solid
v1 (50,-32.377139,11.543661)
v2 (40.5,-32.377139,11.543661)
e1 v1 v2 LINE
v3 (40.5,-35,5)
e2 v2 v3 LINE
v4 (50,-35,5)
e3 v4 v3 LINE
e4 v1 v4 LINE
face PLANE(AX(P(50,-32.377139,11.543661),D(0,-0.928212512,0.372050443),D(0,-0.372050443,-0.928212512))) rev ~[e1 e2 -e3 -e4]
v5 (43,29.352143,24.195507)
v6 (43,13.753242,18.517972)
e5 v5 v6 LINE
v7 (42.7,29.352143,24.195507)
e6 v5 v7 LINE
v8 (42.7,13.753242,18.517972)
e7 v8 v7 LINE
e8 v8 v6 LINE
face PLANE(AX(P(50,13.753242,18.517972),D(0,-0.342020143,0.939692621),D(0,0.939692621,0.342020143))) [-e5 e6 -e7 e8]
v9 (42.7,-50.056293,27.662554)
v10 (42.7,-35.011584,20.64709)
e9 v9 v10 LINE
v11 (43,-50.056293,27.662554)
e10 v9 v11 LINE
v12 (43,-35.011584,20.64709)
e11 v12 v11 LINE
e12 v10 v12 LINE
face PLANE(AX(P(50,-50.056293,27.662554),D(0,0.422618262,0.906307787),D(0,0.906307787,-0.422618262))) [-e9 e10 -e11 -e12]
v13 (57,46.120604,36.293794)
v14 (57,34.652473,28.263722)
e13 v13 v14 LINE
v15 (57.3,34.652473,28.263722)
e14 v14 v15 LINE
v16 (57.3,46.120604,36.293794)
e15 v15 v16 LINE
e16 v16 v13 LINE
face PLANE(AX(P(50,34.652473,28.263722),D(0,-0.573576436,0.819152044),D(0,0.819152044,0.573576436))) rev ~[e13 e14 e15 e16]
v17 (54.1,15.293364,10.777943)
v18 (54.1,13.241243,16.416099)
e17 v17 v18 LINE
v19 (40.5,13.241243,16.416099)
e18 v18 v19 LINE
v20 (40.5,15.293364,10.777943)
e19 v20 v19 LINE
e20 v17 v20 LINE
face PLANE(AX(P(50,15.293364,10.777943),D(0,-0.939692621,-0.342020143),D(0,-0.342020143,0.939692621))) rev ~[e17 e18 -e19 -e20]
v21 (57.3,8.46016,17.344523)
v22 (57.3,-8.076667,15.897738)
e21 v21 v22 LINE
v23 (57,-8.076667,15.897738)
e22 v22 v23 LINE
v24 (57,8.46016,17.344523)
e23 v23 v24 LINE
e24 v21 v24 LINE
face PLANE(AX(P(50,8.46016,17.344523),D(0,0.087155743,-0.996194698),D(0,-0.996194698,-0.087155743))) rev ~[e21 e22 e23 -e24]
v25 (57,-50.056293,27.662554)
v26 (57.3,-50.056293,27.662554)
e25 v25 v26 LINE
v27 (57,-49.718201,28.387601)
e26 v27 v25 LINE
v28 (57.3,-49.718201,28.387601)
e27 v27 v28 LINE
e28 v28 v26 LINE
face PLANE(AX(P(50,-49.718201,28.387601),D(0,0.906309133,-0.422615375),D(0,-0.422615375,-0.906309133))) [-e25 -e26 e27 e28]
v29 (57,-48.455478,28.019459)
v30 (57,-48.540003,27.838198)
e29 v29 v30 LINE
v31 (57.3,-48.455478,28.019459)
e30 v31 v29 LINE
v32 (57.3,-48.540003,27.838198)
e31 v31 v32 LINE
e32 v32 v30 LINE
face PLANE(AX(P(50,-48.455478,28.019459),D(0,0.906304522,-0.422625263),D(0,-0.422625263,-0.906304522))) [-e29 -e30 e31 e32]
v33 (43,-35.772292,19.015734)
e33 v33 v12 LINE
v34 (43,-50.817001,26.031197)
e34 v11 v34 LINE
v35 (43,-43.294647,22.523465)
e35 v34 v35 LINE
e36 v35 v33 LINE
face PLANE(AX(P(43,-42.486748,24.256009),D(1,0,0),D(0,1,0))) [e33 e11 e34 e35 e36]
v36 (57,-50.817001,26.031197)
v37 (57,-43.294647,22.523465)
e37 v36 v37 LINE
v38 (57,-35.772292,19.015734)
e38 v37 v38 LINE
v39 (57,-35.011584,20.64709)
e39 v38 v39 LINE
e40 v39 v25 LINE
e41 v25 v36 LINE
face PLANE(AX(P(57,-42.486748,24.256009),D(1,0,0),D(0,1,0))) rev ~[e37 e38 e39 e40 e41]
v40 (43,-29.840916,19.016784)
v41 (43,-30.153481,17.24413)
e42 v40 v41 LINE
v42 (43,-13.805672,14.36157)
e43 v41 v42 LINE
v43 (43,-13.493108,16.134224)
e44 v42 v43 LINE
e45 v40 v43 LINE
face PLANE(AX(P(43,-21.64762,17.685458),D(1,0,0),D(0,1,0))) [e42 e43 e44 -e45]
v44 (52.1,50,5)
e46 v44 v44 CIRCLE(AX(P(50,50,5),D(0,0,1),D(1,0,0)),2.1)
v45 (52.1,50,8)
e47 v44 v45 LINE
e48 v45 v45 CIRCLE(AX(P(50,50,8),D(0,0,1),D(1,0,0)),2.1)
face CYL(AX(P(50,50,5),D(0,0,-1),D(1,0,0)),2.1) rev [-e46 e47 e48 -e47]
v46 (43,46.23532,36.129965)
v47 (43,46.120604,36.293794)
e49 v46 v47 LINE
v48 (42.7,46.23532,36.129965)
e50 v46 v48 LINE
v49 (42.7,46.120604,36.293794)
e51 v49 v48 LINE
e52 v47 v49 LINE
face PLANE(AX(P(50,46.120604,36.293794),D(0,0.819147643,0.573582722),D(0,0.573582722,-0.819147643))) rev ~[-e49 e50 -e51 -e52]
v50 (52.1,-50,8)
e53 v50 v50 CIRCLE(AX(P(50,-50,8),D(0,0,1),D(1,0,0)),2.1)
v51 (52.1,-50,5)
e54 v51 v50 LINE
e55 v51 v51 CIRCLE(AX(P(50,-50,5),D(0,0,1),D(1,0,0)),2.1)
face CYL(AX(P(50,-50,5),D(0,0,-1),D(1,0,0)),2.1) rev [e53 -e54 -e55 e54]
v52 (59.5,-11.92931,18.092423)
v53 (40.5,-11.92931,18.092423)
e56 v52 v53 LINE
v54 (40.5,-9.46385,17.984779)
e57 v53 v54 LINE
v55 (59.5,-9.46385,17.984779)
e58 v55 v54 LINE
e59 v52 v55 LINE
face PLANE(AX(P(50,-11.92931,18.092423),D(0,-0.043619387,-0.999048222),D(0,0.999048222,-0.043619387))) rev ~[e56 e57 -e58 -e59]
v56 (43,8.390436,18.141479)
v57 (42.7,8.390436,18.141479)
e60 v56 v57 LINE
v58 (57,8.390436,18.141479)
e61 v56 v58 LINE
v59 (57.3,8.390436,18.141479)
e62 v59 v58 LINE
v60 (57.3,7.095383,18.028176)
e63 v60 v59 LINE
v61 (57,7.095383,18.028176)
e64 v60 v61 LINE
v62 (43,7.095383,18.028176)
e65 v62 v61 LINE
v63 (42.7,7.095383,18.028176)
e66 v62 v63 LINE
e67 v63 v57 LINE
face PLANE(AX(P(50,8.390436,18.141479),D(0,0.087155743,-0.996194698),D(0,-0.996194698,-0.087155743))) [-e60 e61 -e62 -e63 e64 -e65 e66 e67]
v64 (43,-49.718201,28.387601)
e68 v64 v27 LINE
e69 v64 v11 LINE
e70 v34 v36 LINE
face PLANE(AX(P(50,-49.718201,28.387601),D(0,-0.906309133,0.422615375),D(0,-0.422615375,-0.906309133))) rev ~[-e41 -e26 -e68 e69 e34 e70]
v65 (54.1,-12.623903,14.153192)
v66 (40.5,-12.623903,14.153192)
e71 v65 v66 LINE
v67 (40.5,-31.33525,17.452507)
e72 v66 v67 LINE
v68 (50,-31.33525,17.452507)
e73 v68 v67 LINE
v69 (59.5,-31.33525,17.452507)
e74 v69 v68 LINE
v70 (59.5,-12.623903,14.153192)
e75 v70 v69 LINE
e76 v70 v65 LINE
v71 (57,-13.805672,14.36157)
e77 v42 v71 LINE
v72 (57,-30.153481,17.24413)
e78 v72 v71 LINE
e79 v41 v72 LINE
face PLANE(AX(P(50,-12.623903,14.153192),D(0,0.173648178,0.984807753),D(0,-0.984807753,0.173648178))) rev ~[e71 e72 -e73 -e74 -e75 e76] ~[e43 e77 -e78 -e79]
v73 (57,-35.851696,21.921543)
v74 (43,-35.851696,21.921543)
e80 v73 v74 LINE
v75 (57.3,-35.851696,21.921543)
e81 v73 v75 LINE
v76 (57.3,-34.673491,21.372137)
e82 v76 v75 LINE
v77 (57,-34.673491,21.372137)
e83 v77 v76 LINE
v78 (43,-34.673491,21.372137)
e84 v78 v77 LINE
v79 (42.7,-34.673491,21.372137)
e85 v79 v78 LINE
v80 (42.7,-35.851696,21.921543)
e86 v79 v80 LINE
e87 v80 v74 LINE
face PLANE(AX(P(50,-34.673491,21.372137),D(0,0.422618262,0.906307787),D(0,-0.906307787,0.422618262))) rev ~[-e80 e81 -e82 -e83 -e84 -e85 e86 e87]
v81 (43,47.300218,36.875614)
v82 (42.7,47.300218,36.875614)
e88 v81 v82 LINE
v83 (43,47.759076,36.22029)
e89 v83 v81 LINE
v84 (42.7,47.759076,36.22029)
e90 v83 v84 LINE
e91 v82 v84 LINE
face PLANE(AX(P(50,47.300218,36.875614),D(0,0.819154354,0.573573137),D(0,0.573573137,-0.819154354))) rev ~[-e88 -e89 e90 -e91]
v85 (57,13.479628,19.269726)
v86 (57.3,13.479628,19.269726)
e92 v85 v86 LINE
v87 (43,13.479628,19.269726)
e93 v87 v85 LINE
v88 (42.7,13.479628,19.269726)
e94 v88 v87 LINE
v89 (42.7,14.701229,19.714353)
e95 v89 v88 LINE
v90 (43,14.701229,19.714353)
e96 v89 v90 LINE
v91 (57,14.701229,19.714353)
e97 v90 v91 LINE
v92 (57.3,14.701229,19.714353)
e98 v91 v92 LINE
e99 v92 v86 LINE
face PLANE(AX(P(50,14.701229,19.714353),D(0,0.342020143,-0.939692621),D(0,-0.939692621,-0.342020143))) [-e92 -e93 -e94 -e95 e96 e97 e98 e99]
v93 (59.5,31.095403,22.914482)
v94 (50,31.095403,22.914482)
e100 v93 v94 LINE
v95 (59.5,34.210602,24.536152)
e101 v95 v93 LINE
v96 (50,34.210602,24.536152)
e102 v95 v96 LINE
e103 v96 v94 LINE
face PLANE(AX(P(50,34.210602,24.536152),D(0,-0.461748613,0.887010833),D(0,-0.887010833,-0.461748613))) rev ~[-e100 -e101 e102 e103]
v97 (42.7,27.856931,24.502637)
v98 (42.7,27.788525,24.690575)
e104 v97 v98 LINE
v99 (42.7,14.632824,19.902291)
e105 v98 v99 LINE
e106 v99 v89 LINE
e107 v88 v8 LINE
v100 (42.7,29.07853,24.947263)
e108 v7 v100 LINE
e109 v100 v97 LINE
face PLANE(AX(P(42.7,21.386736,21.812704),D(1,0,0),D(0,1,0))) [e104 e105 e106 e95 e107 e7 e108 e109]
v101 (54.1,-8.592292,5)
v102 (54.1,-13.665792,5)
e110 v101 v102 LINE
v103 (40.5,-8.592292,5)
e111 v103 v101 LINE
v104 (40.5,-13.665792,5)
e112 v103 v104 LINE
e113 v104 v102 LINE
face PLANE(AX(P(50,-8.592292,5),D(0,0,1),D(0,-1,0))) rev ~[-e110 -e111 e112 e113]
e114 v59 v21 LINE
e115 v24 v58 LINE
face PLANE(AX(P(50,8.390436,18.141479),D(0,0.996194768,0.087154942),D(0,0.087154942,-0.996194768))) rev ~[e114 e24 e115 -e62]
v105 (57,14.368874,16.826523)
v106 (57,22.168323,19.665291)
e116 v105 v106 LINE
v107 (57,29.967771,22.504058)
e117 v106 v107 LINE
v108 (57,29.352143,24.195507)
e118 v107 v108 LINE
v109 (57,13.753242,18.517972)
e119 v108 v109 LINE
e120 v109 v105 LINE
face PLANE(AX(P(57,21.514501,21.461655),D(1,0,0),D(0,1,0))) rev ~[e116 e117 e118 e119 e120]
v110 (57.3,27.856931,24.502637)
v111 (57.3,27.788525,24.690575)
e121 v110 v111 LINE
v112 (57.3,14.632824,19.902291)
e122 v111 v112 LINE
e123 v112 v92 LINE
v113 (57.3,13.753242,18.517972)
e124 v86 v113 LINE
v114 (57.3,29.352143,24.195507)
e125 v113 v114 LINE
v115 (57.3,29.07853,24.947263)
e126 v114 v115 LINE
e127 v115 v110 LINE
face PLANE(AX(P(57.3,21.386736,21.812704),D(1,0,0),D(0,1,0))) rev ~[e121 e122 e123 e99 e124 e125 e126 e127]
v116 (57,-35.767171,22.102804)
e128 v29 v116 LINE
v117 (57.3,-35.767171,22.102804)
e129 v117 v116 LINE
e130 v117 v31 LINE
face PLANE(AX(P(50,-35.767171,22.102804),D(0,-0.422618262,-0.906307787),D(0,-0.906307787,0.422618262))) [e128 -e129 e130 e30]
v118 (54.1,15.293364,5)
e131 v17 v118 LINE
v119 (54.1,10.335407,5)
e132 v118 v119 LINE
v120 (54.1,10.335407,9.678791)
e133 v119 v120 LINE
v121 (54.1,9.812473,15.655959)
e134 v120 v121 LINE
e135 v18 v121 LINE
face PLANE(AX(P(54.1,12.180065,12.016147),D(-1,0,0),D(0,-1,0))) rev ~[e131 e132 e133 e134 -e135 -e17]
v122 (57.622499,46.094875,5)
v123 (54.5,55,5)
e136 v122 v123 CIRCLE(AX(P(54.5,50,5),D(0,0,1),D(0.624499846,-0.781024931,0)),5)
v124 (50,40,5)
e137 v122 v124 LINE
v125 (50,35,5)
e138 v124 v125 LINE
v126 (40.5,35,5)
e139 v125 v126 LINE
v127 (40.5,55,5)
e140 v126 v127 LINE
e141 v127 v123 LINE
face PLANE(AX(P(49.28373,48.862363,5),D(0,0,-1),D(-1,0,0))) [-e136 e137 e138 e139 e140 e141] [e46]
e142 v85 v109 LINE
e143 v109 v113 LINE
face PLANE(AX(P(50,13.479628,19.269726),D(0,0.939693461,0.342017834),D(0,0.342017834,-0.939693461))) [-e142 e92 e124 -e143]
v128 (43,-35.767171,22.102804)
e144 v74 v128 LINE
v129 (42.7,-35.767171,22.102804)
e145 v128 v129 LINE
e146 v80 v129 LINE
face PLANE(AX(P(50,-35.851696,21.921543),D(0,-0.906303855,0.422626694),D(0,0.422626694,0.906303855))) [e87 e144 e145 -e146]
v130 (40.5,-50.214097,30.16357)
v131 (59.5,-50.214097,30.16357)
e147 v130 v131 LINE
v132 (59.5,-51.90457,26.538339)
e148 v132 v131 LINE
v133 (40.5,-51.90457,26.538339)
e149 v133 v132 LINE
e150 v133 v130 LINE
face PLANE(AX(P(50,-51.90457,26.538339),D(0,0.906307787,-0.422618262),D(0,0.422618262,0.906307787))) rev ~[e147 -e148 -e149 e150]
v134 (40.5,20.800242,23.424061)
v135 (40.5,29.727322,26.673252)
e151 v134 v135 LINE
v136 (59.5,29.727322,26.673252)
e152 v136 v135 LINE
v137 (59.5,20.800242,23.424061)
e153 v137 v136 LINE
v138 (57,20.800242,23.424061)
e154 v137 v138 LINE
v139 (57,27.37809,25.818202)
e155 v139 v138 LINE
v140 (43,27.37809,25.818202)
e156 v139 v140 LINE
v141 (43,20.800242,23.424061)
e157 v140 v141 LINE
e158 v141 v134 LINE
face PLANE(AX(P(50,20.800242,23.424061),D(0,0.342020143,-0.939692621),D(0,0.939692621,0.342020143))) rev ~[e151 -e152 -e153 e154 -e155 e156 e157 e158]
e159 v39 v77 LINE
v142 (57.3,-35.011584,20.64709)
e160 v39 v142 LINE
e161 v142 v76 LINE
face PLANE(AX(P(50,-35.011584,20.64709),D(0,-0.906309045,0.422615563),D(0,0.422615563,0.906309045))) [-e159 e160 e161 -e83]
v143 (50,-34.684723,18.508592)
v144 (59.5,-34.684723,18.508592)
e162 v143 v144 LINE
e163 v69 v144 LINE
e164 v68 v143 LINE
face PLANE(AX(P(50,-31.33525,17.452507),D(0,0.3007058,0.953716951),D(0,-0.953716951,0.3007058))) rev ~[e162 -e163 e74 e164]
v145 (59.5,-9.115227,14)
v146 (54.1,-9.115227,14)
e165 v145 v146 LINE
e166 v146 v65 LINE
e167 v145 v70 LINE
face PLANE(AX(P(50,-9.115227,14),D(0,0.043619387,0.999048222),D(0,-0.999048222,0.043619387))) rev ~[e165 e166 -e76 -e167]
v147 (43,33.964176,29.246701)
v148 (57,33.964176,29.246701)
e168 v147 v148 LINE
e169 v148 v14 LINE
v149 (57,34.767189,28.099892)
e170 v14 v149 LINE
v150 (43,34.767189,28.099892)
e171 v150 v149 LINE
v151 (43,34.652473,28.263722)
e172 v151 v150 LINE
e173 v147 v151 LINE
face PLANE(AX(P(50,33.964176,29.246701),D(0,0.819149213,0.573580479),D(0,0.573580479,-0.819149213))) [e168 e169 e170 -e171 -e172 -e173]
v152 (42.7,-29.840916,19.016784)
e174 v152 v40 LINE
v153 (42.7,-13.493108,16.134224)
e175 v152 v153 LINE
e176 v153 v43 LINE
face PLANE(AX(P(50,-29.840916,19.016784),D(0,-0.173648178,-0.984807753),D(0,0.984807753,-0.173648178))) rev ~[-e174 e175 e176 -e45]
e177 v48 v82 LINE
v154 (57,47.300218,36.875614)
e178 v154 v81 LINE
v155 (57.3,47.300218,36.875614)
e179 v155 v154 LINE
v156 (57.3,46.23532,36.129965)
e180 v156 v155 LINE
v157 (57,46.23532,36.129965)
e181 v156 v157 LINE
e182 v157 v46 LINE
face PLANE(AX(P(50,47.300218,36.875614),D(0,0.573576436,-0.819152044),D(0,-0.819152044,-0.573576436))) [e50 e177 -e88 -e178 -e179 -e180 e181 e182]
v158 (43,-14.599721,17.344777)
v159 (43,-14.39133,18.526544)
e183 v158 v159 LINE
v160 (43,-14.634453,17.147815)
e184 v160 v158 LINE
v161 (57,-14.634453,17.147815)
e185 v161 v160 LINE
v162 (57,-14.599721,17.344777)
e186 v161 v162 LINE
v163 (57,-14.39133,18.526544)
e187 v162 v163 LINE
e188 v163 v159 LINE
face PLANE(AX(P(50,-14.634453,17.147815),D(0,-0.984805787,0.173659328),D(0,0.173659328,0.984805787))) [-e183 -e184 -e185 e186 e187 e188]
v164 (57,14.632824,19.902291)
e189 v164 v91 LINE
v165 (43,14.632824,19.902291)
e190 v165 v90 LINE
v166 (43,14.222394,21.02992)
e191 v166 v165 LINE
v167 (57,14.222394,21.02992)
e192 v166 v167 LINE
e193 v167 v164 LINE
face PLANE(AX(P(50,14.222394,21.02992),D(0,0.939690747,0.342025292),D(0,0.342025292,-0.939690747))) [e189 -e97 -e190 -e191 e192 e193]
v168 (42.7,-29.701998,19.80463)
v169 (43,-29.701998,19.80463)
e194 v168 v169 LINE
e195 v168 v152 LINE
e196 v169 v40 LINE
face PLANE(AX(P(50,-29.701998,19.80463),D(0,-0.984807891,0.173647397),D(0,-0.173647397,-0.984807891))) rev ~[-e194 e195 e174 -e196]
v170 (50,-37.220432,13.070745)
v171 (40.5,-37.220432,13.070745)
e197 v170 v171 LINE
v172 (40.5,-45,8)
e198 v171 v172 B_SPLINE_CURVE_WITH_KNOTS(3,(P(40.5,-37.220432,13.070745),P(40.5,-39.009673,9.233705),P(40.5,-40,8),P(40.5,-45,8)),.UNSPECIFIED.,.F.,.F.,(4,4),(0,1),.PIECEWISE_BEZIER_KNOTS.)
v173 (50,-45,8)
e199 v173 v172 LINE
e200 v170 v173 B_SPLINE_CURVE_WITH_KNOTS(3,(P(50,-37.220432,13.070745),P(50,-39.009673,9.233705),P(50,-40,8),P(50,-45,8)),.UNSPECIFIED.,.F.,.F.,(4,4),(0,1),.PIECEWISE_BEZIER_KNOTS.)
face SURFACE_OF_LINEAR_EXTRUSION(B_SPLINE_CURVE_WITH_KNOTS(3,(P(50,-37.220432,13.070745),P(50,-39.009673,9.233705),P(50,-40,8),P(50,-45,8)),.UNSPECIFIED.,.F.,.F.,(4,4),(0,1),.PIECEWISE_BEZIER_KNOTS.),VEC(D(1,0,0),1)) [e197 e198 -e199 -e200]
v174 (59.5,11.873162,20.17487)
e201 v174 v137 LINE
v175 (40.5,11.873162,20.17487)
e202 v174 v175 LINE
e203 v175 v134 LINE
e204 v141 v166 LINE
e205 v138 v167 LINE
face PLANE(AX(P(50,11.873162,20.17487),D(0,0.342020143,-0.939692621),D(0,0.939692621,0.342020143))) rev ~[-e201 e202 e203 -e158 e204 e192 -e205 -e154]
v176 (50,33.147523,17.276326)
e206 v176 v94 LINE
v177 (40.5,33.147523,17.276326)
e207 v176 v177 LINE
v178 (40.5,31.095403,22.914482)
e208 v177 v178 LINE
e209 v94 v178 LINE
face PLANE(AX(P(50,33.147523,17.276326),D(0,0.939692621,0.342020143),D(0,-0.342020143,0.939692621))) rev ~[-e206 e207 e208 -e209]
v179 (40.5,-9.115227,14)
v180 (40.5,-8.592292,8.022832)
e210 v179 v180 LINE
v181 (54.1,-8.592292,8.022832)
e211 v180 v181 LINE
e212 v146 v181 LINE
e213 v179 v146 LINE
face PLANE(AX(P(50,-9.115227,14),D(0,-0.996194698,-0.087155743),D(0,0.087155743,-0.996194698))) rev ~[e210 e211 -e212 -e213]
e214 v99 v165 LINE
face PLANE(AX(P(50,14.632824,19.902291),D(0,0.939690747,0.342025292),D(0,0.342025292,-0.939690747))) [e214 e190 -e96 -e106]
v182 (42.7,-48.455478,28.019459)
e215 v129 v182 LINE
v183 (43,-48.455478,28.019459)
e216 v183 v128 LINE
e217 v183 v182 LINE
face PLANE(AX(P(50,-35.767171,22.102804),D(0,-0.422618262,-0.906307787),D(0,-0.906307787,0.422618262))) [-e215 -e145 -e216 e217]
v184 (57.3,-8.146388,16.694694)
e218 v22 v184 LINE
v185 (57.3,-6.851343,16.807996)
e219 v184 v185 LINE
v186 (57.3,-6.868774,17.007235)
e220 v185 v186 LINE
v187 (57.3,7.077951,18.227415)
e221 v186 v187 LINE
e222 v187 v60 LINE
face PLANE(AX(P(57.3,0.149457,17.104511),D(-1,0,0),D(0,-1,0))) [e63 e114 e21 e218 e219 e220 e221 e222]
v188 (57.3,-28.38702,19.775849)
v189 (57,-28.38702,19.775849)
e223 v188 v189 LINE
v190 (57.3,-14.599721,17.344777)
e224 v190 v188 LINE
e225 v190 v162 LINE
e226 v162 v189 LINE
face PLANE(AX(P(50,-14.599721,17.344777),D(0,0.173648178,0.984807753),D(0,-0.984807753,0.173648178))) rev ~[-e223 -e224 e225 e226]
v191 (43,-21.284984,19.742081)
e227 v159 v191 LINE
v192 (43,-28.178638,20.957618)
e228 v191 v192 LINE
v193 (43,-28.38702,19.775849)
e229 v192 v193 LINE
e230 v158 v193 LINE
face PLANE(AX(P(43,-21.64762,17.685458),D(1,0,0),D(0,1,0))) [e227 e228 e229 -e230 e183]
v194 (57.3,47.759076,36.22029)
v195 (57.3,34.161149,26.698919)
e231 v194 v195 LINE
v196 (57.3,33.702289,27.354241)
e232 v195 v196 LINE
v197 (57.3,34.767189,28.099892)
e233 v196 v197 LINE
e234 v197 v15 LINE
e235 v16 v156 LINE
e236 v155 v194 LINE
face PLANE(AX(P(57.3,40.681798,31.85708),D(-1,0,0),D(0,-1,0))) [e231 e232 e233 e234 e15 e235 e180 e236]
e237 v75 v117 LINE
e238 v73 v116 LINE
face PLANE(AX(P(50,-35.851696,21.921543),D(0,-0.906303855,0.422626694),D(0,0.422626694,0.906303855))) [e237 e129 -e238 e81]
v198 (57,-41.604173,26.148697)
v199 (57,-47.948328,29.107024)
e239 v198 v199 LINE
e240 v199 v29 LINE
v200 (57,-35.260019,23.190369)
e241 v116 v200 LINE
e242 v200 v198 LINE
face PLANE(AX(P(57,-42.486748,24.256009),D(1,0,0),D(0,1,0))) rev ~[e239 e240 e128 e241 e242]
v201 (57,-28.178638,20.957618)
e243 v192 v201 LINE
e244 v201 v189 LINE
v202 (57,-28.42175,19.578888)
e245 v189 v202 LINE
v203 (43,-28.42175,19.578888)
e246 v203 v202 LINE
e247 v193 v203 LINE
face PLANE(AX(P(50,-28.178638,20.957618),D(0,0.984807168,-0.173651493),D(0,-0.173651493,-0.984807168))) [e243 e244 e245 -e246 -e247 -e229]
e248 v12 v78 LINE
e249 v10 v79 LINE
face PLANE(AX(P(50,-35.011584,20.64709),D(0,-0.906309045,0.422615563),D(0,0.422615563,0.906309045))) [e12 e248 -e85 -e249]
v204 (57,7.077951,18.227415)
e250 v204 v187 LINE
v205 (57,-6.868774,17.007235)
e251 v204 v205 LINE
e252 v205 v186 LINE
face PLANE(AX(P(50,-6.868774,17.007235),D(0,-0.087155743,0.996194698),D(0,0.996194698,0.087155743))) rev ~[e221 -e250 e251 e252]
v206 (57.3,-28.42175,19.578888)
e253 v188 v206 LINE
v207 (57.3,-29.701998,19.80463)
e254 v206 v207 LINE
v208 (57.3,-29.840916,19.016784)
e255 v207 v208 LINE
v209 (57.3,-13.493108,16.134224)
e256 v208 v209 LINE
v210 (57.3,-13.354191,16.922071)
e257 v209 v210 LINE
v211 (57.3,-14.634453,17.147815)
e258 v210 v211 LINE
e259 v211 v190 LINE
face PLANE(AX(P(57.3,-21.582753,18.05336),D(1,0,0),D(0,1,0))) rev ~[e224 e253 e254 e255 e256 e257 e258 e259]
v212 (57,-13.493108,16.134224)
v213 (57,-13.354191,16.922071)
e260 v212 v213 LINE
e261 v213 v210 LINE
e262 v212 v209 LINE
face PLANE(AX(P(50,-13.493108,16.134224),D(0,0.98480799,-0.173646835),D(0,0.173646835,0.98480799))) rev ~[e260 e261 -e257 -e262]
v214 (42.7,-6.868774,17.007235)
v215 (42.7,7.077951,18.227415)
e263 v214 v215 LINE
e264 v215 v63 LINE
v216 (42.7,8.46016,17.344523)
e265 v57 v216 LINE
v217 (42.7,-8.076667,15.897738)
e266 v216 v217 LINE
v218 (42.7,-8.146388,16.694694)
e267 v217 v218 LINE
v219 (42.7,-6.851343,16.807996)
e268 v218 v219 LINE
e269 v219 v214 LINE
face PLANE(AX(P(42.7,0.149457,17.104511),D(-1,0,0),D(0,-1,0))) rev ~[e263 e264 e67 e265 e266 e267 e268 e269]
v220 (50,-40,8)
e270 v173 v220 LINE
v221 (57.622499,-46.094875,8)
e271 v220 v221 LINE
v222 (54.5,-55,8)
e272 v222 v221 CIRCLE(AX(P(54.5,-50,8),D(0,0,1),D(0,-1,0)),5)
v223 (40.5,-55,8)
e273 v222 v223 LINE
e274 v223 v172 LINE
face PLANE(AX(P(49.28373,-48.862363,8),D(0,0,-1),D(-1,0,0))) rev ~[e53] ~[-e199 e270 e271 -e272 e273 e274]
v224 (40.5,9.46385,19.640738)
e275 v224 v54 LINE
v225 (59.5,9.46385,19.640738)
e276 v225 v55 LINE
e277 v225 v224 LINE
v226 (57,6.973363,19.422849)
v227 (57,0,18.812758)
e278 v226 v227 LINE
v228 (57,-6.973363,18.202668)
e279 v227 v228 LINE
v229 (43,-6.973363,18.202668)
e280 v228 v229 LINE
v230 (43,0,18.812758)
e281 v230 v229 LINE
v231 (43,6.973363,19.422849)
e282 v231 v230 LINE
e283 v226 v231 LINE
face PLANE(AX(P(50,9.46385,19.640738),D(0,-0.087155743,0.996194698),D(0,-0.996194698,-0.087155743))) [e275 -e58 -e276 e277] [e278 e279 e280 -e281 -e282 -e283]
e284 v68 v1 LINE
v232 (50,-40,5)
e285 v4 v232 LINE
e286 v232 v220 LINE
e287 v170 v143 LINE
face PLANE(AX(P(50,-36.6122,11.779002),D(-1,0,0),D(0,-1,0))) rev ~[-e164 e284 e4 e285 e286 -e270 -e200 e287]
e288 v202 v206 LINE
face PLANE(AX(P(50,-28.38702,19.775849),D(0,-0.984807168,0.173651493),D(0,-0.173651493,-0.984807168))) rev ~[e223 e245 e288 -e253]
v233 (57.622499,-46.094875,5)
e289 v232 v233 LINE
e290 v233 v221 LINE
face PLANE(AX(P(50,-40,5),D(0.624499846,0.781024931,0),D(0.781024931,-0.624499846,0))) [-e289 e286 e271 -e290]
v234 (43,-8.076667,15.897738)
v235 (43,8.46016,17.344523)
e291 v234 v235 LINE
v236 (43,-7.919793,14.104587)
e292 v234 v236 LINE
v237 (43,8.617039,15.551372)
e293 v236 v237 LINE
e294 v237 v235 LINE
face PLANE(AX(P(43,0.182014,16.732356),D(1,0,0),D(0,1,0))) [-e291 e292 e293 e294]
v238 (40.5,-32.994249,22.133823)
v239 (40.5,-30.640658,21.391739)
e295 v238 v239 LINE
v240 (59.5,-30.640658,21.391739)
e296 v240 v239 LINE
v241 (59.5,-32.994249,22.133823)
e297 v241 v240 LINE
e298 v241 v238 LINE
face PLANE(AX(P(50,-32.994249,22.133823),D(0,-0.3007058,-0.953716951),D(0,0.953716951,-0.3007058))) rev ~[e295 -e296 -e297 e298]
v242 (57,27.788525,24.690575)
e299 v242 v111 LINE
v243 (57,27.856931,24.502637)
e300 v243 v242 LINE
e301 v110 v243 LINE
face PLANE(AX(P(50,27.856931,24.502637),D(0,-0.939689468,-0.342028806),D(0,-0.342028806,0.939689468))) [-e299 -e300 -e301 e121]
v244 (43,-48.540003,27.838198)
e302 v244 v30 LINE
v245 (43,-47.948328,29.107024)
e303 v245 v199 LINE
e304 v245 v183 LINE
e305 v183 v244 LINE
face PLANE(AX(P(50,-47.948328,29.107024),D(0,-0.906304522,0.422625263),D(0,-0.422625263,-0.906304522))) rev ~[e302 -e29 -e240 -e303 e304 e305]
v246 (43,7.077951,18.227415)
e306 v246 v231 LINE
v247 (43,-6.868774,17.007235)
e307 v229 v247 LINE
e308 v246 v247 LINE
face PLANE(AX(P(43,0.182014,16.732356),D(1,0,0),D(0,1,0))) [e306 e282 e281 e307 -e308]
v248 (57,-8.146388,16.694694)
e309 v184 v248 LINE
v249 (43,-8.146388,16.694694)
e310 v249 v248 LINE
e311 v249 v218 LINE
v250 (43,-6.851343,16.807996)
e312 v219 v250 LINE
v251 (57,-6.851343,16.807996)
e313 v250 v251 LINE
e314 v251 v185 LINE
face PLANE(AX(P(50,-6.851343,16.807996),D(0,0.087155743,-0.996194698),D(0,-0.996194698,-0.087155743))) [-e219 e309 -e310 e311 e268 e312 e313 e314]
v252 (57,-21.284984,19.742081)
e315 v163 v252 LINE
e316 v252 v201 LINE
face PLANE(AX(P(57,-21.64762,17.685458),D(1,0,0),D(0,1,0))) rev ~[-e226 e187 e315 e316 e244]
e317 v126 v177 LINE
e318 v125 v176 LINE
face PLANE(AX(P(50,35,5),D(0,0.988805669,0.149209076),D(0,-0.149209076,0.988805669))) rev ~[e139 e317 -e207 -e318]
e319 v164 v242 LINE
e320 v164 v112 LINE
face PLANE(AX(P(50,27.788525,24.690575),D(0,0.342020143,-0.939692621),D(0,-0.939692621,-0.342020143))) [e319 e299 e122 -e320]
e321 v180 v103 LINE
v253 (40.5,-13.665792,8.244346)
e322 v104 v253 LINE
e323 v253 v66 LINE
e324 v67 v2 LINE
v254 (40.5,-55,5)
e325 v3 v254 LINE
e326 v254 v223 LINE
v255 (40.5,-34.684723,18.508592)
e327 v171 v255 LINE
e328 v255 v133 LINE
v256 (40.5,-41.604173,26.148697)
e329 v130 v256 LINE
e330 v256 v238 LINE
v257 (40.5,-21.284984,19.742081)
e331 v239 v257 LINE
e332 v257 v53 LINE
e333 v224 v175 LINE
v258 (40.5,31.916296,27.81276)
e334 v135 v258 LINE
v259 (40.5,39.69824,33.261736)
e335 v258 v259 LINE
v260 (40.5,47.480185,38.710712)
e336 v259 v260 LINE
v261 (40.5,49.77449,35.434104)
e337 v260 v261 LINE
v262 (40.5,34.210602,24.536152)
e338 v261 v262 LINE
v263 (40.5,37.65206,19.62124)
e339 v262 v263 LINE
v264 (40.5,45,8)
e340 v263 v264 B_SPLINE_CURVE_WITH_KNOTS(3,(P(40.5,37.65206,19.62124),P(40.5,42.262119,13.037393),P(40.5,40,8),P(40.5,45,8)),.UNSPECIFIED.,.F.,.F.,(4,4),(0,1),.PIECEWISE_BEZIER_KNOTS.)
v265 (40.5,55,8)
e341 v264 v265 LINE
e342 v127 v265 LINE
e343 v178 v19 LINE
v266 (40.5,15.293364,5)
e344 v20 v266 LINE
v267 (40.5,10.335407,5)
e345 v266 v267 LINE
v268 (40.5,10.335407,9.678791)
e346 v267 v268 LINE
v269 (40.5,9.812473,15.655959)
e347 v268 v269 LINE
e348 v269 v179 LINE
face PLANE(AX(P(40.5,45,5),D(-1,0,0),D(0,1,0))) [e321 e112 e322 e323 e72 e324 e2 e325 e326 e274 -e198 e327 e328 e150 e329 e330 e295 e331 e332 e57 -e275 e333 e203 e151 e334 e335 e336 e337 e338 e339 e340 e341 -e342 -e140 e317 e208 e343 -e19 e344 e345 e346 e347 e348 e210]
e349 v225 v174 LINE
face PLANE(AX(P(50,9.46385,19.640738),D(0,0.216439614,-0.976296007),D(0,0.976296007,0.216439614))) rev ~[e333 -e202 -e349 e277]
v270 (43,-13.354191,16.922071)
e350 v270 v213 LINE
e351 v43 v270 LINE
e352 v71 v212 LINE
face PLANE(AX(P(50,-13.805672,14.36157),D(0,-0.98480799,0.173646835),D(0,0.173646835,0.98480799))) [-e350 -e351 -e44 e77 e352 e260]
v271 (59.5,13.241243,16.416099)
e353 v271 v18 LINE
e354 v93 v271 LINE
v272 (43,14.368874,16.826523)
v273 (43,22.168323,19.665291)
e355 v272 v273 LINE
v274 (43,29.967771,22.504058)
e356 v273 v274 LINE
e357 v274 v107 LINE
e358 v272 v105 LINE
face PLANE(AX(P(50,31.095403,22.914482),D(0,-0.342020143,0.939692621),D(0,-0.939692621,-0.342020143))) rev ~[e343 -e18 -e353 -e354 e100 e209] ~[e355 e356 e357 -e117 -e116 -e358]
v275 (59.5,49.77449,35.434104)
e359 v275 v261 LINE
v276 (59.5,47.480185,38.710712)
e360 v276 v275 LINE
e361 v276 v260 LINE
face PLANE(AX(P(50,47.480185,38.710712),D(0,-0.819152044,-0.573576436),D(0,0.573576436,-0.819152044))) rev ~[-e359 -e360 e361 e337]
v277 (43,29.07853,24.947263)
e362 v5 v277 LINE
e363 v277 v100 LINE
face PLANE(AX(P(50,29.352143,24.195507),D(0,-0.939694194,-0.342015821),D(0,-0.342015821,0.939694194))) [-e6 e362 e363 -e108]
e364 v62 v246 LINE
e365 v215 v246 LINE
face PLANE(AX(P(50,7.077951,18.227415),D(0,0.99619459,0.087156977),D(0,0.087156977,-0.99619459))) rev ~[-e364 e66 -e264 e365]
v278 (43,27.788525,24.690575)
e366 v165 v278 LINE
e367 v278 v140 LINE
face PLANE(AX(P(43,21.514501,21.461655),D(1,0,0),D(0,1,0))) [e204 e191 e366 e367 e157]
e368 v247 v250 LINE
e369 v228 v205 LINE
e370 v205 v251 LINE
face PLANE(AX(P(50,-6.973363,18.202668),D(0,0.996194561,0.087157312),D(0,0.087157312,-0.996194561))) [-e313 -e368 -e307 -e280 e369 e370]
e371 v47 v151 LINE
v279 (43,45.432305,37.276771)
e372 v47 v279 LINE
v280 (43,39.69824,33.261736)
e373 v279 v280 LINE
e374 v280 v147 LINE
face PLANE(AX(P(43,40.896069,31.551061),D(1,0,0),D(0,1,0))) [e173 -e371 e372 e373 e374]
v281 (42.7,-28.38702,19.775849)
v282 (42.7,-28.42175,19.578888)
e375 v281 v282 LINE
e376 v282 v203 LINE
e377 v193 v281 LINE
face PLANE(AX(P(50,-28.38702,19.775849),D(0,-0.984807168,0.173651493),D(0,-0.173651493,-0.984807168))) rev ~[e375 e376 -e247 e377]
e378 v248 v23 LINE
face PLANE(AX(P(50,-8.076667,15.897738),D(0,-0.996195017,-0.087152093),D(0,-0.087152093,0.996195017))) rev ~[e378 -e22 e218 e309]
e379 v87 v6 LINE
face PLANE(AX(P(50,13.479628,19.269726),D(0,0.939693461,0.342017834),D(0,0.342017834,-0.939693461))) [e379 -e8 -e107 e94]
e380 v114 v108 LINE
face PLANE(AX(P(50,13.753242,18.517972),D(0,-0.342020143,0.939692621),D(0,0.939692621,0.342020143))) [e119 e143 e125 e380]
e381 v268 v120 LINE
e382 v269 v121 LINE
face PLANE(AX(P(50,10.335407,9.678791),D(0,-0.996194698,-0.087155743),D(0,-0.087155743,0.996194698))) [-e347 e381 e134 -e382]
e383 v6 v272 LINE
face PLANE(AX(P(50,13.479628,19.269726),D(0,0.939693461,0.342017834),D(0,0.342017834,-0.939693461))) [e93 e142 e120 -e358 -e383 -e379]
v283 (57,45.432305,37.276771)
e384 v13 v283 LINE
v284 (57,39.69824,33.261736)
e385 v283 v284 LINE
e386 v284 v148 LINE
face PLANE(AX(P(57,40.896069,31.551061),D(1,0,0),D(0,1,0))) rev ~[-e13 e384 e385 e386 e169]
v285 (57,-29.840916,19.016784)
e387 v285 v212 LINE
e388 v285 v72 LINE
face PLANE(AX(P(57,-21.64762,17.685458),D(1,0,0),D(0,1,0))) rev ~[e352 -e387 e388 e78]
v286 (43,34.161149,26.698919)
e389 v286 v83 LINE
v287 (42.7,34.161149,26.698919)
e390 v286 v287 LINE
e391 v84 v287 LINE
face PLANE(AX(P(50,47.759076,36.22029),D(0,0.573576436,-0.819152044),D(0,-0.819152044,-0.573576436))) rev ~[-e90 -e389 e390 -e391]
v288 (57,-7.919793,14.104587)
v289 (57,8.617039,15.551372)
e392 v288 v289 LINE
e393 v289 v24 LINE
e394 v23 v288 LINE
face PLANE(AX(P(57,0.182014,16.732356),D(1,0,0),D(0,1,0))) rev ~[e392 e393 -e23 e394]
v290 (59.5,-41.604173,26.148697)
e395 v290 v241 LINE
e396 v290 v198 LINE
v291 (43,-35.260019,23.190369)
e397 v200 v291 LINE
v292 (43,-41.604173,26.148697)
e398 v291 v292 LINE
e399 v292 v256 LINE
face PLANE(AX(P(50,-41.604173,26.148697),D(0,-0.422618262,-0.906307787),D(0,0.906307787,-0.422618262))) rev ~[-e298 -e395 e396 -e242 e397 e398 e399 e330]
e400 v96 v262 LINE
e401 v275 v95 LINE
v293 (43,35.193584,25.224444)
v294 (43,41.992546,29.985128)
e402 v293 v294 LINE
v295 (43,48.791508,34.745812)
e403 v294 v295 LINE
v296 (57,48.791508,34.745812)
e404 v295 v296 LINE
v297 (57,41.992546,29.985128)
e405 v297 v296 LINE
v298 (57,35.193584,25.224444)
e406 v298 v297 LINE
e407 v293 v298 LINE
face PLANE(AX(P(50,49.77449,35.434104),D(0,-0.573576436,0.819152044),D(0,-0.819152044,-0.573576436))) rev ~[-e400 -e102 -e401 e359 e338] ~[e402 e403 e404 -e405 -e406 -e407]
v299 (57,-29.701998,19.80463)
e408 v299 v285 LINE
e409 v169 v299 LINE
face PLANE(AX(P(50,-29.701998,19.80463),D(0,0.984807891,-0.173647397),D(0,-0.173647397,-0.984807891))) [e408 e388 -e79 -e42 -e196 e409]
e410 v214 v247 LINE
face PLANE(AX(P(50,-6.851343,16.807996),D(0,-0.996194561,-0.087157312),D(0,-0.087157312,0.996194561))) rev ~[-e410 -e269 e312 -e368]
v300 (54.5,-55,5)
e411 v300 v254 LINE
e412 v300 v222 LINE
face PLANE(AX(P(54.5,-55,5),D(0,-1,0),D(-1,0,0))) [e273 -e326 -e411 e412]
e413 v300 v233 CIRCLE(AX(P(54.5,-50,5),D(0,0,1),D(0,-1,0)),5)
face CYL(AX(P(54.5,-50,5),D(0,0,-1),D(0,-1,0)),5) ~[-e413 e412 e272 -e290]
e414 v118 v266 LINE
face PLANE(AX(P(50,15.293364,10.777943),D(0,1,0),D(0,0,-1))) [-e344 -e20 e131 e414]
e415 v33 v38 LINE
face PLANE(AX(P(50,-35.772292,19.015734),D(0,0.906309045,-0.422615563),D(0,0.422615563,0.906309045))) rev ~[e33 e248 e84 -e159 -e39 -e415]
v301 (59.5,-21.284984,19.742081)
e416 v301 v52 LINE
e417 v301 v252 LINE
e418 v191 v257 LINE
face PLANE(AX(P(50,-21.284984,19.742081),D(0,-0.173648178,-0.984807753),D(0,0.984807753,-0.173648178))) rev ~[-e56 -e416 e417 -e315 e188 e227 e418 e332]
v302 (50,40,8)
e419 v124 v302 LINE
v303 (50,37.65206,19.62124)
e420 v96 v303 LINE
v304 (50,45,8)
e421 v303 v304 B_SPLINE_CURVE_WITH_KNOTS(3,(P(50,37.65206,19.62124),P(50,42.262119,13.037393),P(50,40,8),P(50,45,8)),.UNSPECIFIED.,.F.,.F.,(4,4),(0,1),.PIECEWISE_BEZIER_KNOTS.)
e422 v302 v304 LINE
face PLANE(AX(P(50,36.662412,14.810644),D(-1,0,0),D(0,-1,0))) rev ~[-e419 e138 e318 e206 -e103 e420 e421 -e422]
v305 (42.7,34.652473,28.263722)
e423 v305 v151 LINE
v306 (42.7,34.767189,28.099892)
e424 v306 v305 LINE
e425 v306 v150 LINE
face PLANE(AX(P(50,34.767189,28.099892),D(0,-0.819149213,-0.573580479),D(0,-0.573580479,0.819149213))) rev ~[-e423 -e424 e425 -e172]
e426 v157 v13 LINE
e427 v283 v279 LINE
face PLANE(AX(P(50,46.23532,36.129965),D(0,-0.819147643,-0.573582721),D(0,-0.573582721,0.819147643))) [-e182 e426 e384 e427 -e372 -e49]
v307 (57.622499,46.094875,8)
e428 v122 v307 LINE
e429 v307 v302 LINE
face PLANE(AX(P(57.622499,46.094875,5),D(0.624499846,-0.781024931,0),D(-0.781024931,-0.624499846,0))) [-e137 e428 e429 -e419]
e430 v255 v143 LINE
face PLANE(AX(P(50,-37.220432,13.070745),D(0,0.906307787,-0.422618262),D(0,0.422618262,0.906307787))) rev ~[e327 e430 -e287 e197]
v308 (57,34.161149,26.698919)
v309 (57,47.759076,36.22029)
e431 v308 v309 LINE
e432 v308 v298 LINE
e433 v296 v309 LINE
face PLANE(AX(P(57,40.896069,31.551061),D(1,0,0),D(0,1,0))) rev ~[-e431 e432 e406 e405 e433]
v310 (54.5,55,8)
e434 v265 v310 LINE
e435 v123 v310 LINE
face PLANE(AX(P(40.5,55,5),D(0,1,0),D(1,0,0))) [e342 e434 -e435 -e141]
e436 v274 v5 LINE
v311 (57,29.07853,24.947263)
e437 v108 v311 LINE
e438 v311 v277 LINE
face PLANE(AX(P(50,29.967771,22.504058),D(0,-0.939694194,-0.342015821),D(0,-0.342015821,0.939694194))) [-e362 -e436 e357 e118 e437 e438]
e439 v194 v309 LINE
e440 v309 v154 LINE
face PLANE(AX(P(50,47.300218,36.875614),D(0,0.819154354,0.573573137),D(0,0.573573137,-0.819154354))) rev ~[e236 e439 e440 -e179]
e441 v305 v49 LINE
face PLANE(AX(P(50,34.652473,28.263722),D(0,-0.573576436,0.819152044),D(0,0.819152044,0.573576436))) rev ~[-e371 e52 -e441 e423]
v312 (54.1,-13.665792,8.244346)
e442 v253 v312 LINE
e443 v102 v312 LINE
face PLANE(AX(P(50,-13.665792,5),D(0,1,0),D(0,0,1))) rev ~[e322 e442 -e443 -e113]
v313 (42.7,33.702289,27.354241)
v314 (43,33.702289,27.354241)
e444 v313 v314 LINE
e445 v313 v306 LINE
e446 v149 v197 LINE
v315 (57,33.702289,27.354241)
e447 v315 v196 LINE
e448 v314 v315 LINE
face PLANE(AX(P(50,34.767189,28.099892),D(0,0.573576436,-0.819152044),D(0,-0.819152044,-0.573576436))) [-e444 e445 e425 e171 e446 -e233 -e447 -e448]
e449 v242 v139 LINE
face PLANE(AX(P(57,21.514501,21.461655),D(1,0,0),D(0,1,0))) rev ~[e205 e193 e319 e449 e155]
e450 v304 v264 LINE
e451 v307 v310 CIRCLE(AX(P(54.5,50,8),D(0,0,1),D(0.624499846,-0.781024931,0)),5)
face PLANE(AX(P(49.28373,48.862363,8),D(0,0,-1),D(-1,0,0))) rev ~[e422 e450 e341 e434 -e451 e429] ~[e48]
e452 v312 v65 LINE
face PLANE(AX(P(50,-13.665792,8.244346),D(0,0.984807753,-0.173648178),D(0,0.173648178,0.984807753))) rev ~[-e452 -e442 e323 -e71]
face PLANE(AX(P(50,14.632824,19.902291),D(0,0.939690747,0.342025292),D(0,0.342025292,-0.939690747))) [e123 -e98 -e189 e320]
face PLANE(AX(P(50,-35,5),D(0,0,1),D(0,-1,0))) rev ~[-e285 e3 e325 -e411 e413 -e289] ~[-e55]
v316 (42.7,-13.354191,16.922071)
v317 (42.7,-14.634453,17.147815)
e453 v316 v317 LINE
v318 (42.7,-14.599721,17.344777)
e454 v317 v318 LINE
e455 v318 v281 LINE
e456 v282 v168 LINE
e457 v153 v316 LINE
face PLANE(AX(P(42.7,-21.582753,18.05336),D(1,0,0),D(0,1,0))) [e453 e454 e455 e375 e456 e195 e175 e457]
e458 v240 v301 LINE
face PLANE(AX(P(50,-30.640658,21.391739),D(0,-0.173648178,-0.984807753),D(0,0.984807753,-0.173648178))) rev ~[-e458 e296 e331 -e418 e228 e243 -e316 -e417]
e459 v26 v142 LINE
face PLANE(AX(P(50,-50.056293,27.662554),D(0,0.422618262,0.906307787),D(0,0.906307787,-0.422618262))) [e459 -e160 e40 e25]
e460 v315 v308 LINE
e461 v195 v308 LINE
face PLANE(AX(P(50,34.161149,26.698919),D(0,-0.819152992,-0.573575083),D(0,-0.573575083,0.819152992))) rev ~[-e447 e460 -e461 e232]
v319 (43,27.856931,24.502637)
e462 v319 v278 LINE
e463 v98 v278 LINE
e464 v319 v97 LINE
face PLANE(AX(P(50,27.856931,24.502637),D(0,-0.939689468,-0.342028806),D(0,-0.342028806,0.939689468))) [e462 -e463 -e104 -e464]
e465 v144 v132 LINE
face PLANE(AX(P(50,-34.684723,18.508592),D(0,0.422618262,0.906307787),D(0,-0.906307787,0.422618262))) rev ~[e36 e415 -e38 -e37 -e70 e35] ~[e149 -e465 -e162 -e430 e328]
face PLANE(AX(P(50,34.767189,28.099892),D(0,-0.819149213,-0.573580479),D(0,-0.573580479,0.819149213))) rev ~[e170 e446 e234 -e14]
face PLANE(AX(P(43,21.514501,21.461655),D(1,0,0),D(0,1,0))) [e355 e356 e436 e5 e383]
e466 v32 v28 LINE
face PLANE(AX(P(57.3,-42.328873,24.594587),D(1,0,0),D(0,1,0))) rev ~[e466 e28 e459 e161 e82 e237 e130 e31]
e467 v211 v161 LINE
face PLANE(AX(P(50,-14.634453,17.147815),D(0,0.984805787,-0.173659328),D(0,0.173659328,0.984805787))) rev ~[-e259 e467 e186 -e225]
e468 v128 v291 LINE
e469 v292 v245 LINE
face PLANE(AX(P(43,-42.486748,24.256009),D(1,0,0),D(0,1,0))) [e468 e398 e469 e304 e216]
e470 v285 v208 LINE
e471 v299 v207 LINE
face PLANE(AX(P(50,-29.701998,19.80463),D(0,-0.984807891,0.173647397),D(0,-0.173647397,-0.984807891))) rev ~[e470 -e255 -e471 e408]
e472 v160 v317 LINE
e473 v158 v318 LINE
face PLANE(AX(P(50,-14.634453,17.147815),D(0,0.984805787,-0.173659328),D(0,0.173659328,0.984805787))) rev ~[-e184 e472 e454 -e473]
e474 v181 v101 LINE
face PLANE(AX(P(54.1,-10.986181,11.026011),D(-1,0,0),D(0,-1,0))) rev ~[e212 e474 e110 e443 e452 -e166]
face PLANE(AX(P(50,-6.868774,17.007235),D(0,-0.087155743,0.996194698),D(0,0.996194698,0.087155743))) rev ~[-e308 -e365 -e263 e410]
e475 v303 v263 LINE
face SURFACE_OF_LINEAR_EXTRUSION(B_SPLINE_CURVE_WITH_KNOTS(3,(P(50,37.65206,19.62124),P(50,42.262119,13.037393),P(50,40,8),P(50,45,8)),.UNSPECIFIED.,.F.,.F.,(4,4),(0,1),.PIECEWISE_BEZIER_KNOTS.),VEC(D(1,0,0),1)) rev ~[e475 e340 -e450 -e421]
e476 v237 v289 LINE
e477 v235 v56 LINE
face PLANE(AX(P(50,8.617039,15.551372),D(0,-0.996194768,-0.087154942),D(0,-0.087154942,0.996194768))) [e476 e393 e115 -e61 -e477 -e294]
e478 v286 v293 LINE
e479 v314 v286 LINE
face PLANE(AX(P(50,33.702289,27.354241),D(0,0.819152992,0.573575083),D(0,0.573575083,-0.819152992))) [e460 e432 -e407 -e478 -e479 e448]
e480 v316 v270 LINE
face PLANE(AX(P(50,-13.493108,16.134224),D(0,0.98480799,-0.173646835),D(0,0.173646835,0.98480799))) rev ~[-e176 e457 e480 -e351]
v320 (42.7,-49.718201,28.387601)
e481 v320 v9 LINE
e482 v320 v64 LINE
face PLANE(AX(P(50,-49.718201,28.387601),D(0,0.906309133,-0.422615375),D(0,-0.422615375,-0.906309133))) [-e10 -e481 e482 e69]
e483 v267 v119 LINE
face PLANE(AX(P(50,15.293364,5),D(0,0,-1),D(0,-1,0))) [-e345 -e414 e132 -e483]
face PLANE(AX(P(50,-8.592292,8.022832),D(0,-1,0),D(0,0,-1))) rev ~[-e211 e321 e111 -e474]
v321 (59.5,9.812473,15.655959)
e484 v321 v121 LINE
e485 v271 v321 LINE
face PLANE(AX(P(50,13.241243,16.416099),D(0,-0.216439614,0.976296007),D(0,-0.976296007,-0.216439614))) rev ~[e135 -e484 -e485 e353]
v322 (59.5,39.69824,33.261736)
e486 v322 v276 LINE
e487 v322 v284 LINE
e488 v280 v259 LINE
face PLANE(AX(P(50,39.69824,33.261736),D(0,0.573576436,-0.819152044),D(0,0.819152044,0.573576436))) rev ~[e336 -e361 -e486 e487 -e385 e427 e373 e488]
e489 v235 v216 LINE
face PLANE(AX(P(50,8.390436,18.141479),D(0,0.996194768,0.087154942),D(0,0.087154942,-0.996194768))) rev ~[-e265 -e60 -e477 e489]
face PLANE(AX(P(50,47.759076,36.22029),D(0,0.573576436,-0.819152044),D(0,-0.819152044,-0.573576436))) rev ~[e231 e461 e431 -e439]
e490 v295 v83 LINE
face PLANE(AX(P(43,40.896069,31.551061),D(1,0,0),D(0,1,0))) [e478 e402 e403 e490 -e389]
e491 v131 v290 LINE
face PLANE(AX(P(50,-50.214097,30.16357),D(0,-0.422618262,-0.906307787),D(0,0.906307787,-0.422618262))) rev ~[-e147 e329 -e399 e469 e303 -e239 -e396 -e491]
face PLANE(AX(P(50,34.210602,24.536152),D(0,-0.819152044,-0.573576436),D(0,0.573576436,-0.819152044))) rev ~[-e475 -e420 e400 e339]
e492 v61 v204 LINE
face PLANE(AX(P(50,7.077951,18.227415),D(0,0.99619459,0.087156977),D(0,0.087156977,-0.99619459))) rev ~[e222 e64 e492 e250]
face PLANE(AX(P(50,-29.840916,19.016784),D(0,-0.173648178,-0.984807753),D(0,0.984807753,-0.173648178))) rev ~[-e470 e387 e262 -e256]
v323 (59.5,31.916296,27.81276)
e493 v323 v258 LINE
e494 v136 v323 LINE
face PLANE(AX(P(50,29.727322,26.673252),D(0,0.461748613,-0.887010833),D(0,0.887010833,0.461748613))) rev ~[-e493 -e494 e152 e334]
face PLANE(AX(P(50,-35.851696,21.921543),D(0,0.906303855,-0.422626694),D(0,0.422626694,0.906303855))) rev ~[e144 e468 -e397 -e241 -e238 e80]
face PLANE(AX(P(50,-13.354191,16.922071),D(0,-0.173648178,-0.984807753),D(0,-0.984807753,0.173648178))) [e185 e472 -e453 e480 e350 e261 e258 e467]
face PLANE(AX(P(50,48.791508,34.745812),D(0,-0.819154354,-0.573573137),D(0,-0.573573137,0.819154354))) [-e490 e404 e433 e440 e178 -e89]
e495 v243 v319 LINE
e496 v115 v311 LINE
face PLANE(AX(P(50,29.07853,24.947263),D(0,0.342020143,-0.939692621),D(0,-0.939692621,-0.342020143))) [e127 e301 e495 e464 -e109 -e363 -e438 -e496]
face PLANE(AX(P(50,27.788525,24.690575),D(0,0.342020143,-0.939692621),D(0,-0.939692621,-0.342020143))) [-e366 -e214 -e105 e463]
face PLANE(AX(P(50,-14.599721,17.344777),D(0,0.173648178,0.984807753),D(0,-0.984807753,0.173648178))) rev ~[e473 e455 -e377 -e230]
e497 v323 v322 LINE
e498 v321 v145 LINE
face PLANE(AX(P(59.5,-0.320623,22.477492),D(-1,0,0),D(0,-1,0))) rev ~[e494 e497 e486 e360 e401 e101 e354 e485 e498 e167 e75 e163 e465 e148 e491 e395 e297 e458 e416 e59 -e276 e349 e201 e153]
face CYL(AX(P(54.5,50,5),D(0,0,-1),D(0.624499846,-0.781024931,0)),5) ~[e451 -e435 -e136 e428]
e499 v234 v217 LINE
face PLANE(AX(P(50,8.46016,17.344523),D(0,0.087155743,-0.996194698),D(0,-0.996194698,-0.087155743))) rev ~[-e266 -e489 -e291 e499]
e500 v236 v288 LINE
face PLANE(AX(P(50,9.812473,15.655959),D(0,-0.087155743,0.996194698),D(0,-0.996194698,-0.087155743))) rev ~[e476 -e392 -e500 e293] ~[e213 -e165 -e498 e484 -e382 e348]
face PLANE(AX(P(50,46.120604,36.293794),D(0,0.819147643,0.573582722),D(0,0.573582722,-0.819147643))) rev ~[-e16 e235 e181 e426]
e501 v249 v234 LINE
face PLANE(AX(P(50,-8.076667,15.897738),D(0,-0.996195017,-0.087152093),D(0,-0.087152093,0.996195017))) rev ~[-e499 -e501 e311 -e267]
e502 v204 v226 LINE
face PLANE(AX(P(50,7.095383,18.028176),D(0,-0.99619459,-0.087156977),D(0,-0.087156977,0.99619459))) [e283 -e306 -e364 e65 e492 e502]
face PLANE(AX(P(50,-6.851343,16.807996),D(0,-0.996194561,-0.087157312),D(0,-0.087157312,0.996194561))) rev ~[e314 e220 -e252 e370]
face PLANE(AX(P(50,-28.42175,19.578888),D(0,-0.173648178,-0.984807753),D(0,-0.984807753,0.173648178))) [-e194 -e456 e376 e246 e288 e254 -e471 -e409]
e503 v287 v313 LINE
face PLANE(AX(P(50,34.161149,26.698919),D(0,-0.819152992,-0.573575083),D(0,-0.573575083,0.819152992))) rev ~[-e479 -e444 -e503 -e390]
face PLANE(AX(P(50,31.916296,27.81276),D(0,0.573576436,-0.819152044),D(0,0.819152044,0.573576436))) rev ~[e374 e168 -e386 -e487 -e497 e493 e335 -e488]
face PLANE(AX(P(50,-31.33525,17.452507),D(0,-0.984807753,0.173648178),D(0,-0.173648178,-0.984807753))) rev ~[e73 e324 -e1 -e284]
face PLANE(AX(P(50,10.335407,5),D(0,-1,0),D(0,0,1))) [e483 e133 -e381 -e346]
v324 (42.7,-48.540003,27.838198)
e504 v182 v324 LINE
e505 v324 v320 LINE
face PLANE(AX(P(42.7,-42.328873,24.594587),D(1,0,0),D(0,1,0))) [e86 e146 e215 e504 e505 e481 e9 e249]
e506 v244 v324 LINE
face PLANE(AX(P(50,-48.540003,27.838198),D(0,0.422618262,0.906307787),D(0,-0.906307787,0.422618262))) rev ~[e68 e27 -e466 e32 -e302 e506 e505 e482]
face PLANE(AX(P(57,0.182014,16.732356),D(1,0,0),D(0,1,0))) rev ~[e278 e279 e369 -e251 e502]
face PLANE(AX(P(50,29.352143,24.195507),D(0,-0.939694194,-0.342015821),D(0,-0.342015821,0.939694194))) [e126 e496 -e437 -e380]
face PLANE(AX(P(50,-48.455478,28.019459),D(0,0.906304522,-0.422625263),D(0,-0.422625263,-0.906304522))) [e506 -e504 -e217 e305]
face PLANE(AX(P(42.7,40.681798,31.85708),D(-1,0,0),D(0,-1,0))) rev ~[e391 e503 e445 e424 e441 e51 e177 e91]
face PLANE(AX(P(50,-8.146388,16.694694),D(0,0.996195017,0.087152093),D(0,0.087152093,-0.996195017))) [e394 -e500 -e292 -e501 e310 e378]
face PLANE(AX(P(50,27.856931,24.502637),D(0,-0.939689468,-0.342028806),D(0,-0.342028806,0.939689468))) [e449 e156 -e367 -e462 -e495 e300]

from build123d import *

# Parameters (mm, degrees)
PAD008_DEPTH      = 9.5
POCKET004_DEPTH   = 7
POCKET005_DEPTH   = 7.3
PAD009_DEPTH      = 4.1
PAD009_DEPTH_BACK = 9.5
PAD010_DEPTH      = 9.5
SKETCH019_R       = 2.1
PAD011_DEPTH      = 3


with BuildPart() as part:
    # Sketch012 → Pad008 (new body, symmetric)
    with BuildSketch(Plane.YZ):
        Polygon((-50.2140974459, 25.1635701276), (-41.6041734691, 21.1486966411), (-32.9942494922, 17.1338231546), (-30.6406576873, 16.391738509), (-21.2849840337, 14.7420808212), (-11.9293103801, 13.0924231333), (-9.4638496319, 12.9847787924), (0, 13.8127583485), (9.4638496319, 14.6407379046), (11.8731622478, 15.1748696522), (20.8002421453, 18.4240610138), (29.7273220427, 21.6732523754), (31.9162958532, 22.8127600157), (39.698240274, 28.261736161), (47.4801846947, 33.7107123064), (49.7744904401, 30.4341041292), (34.2106015986, 19.5361518385), (31.0954026161, 17.9144818923), (13.2412428211, 11.4160991691), (9.8124726029, 10.6559591122), (-9.1152266609, 9), (-12.6239030908, 9.1531921213), (-31.335250398, 12.4525074969), (-34.6847225392, 13.5085920064), (-51.9045704929, 21.5383389795), align=None)
    extrude(amount=PAD008_DEPTH, both=True)

    # Sketch013 → Pocket004 (cut, symmetric)
    with BuildSketch(Plane.YZ):
        Polygon((45.432304584, 32.2767712155), (39.698240274, 28.261736161), (33.9641759639, 24.2467011065), (34.7671886347, 23.0998922076), (33.7022888371, 22.3542413419), (35.1935840518, 20.2244435621), (41.9925460194, 24.9851279839), (48.791507987, 29.7458124056), (47.3002178304, 31.8756137271), (46.2353203941, 31.1299645148), align=None)
        Polygon((27.3780904908, 20.8182020171), (20.8002421453, 18.4240610138), (14.2223937998, 16.0299200105), (14.701229209, 14.7143529651), (13.4796275966, 14.2697263401), (14.3688739661, 11.826523341), (22.1683227186, 14.6652905307), (29.9677714711, 17.5040577203), (29.078530336, 19.9472626244), (27.8569308195, 19.5026367622), align=None)
        Polygon((-6.9733628866, 13.2026681492), (-6.8513426496, 11.8079957641), (-8.1463884643, 11.6946939366), (-7.9197930232, 9.1045868913), (0.348622971, 9.8279795561), (8.6170389652, 10.5513722209), (8.390436117, 13.1414786182), (7.0953826538, 13.0281761215), (6.9733628866, 14.4228485477), (0, 13.8127583485), align=None)
        Polygon((-21.2849840337, 14.7420808212), (-28.1786383048, 15.9576180648), (-28.4217503954, 14.5788880291), (-29.701997863, 14.8046301996), (-30.1534810944, 12.2441296837), (-21.9795767444, 10.8028498091), (-13.8056723944, 9.3615699345), (-13.3541906242, 11.922070708), (-14.6344528215, 12.1478154758), (-14.3913297626, 13.5265435775), align=None)
        Polygon((-41.6041734691, 21.1486966411), (-47.9483279783, 24.1070244733), (-48.5400033464, 22.838198142), (-49.7182011739, 23.3876008118), (-50.8170011484, 21.0311970654), (-43.294646516, 17.523465493), (-35.7722918836, 14.0157339205), (-34.6734914189, 16.3721374383), (-35.8516963311, 16.9215434118), (-35.2600189598, 18.1903688089), align=None)
    extrude(amount=POCKET004_DEPTH, both=True, mode=Mode.SUBTRACT)

    # Sketch014 → Pocket005 (cut, symmetric)
    with BuildSketch(Plane.YZ):
        Polygon((27.8569308195, 19.5026367622), (27.7885250582, 19.6905746558), (14.6328241506, 14.9022911145), (14.701229209, 14.7143529651), (13.4796275966, 14.2697263401), (13.7532418641, 13.5179715711), (29.3521429929, 19.1955072693), (29.078530336, 19.9472626244), align=None)
        Polygon((7.0779512585, 13.2274150395), (7.0953826538, 13.0281761215), (8.390436117, 13.1414786182), (8.4601600703, 12.3445228037), (-8.0766667901, 10.8977379227), (-8.1463884643, 11.6946939366), (-6.8513426496, 11.8079957641), (-6.8687741121, 12.0072346763), align=None)
        Polygon((34.6524725388, 23.2637220503), (46.1206038498, 31.2937940434), (46.2353203941, 31.1299645148), (47.3002178304, 31.8756137271), (47.7590763401, 31.2202902435), (34.1611489031, 21.6989189481), (33.7022888371, 22.3542413419), (34.7671886347, 23.0998922076), align=None)
        Polygon((-48.5400033464, 22.838198142), (-49.7182011739, 23.3876008118), (-50.0562934738, 22.6625535052), (-35.0115838696, 15.6470902021), (-34.6734914189, 16.3721374383), (-35.8516963311, 16.9215434118), (-35.7671709924, 17.1028041826), (-48.4554782937, 23.0194590466), align=None)
        Polygon((-28.3870200967, 14.7758494628), (-28.4217503954, 14.5788880291), (-29.701997863, 14.8046301996), (-29.8409157804, 14.0167838869), (-13.4931080919, 11.1342243163), (-13.3541906242, 11.922070708), (-14.6344528215, 12.1478154758), (-14.5997209559, 12.3447766332), align=None)
    extrude(amount=POCKET005_DEPTH, both=True, mode=Mode.SUBTRACT)

    # Sketch017 → Pad009 (join, two sides)
    with BuildSketch(Plane.YZ) as pad009_sk:
        Polygon((-13.6657921568, 3.2443456032), (-12.6239030908, 9.1531921213), (-11.9293103801, 13.0924231333), (-9.4638496319, 12.9847787924), (-9.1152266609, 9), (-8.5922922044, 3.0228318115), (-8.5922922044, 0), (-13.6657921568, 0), align=None)
        Polygon((15.2933636811, 0), (10.3354070594, 0), (10.3354070594, 4.6787909237), (9.8124726029, 10.6559591122), (9.4638496319, 14.6407379046), (11.8731622478, 15.1748696522), (13.2412428211, 11.4160991691), (15.2933636811, 5.7779434443), align=None)
    extrude(amount=PAD009_DEPTH)
    extrude(pad009_sk.sketch, amount=-PAD009_DEPTH_BACK)

    # Sketch018 → Pad010 (join)
    with BuildSketch(Plane.YZ):
        with BuildLine():
            Line((-37.2204321096, 8.0707452842), (-34.6847225392, 13.5085920064))
            Line((-34.6847225392, 13.5085920064), (-32.9942494922, 17.1338231546))
            Line((-32.9942494922, 17.1338231546), (-30.6406576873, 16.391738509))
            Line((-30.6406576873, 16.391738509), (-31.335250398, 12.4525074969))
            Line((-31.335250398, 12.4525074969), (-32.377139464, 6.5436609789))
            Line((-32.377139464, 6.5436609789), (-35, 0))
            Line((-35, 0), (-45, 0))
            Line((-45, 0), (-45, 3))
            add(Edge.make_bspline(
                [(-37.2204321096, 8.0707452842), (-39.0096732627, 4.233705249), (-40, 3), (-45, 3)],
                knots=[0, 0, 0, 0, 1, 1, 1, 1], degree=3))
        make_face()
        with BuildLine():
            Line((33.147523476, 12.2763261675), (31.0954026161, 17.9144818923))
            Line((31.0954026161, 17.9144818923), (29.7273220427, 21.6732523754))
            Line((29.7273220427, 21.6732523754), (31.9162958532, 22.8127600157))
            Line((31.9162958532, 22.8127600157), (34.2106015986, 19.5361518385))
            Line((34.2106015986, 19.5361518385), (37.6520602168, 14.6212395727))
            add(Edge.make_bspline(
                [(37.6520602168, 14.6212395727), (42.262119346, 8.0373928164), (40, 3), (45, 3)],
                knots=[0, 0, 0, 0, 1, 1, 1, 1], degree=3))
            Line((45, 3), (45, 0))
            Line((45, 0), (35, 0))
            Line((35, 0), (33.147523476, 12.2763261675))
        make_face()
    extrude(amount=-PAD010_DEPTH)

    # Sketch019 → Pad011 (join)
    with BuildSketch(Plane.XY):
        with BuildLine():
            Line((7.6224992299, 46.0948753465), (0, 40))
            Line((0, 40), (0, 45))
            Line((0, 45), (-9.5, 45))
            Line((-9.5, 45), (-9.5, 55))
            Line((-9.5, 55), (4.5, 55))
            ThreePointArc((7.6224992299, 46.0948753465), (9.218348401, 51.6544450327), (4.5, 55))
        make_face()
        with Locations((0, 50)):
            Circle(SKETCH019_R, mode=Mode.SUBTRACT)
        with BuildLine():
            Line((0, -45), (0, -40))
            Line((0, -40), (7.6224992299, -46.0948753465))
            ThreePointArc((4.5, -55), (9.218348401, -51.6544450327), (7.6224992299, -46.0948753465))
            Line((4.5, -55), (-9.5, -55))
            Line((-9.5, -55), (-9.5, -45))
            Line((-9.5, -45), (0, -45))
        make_face()
        with Locations((0, -50)):
            Circle(SKETCH019_R, mode=Mode.SUBTRACT)
    extrude(amount=PAD011_DEPTH)


with BuildPart() as part_1:
    # Body002 placement: moved
    add(part.part.moved(Location((50, 0, 5))))


solid = part_1.part
